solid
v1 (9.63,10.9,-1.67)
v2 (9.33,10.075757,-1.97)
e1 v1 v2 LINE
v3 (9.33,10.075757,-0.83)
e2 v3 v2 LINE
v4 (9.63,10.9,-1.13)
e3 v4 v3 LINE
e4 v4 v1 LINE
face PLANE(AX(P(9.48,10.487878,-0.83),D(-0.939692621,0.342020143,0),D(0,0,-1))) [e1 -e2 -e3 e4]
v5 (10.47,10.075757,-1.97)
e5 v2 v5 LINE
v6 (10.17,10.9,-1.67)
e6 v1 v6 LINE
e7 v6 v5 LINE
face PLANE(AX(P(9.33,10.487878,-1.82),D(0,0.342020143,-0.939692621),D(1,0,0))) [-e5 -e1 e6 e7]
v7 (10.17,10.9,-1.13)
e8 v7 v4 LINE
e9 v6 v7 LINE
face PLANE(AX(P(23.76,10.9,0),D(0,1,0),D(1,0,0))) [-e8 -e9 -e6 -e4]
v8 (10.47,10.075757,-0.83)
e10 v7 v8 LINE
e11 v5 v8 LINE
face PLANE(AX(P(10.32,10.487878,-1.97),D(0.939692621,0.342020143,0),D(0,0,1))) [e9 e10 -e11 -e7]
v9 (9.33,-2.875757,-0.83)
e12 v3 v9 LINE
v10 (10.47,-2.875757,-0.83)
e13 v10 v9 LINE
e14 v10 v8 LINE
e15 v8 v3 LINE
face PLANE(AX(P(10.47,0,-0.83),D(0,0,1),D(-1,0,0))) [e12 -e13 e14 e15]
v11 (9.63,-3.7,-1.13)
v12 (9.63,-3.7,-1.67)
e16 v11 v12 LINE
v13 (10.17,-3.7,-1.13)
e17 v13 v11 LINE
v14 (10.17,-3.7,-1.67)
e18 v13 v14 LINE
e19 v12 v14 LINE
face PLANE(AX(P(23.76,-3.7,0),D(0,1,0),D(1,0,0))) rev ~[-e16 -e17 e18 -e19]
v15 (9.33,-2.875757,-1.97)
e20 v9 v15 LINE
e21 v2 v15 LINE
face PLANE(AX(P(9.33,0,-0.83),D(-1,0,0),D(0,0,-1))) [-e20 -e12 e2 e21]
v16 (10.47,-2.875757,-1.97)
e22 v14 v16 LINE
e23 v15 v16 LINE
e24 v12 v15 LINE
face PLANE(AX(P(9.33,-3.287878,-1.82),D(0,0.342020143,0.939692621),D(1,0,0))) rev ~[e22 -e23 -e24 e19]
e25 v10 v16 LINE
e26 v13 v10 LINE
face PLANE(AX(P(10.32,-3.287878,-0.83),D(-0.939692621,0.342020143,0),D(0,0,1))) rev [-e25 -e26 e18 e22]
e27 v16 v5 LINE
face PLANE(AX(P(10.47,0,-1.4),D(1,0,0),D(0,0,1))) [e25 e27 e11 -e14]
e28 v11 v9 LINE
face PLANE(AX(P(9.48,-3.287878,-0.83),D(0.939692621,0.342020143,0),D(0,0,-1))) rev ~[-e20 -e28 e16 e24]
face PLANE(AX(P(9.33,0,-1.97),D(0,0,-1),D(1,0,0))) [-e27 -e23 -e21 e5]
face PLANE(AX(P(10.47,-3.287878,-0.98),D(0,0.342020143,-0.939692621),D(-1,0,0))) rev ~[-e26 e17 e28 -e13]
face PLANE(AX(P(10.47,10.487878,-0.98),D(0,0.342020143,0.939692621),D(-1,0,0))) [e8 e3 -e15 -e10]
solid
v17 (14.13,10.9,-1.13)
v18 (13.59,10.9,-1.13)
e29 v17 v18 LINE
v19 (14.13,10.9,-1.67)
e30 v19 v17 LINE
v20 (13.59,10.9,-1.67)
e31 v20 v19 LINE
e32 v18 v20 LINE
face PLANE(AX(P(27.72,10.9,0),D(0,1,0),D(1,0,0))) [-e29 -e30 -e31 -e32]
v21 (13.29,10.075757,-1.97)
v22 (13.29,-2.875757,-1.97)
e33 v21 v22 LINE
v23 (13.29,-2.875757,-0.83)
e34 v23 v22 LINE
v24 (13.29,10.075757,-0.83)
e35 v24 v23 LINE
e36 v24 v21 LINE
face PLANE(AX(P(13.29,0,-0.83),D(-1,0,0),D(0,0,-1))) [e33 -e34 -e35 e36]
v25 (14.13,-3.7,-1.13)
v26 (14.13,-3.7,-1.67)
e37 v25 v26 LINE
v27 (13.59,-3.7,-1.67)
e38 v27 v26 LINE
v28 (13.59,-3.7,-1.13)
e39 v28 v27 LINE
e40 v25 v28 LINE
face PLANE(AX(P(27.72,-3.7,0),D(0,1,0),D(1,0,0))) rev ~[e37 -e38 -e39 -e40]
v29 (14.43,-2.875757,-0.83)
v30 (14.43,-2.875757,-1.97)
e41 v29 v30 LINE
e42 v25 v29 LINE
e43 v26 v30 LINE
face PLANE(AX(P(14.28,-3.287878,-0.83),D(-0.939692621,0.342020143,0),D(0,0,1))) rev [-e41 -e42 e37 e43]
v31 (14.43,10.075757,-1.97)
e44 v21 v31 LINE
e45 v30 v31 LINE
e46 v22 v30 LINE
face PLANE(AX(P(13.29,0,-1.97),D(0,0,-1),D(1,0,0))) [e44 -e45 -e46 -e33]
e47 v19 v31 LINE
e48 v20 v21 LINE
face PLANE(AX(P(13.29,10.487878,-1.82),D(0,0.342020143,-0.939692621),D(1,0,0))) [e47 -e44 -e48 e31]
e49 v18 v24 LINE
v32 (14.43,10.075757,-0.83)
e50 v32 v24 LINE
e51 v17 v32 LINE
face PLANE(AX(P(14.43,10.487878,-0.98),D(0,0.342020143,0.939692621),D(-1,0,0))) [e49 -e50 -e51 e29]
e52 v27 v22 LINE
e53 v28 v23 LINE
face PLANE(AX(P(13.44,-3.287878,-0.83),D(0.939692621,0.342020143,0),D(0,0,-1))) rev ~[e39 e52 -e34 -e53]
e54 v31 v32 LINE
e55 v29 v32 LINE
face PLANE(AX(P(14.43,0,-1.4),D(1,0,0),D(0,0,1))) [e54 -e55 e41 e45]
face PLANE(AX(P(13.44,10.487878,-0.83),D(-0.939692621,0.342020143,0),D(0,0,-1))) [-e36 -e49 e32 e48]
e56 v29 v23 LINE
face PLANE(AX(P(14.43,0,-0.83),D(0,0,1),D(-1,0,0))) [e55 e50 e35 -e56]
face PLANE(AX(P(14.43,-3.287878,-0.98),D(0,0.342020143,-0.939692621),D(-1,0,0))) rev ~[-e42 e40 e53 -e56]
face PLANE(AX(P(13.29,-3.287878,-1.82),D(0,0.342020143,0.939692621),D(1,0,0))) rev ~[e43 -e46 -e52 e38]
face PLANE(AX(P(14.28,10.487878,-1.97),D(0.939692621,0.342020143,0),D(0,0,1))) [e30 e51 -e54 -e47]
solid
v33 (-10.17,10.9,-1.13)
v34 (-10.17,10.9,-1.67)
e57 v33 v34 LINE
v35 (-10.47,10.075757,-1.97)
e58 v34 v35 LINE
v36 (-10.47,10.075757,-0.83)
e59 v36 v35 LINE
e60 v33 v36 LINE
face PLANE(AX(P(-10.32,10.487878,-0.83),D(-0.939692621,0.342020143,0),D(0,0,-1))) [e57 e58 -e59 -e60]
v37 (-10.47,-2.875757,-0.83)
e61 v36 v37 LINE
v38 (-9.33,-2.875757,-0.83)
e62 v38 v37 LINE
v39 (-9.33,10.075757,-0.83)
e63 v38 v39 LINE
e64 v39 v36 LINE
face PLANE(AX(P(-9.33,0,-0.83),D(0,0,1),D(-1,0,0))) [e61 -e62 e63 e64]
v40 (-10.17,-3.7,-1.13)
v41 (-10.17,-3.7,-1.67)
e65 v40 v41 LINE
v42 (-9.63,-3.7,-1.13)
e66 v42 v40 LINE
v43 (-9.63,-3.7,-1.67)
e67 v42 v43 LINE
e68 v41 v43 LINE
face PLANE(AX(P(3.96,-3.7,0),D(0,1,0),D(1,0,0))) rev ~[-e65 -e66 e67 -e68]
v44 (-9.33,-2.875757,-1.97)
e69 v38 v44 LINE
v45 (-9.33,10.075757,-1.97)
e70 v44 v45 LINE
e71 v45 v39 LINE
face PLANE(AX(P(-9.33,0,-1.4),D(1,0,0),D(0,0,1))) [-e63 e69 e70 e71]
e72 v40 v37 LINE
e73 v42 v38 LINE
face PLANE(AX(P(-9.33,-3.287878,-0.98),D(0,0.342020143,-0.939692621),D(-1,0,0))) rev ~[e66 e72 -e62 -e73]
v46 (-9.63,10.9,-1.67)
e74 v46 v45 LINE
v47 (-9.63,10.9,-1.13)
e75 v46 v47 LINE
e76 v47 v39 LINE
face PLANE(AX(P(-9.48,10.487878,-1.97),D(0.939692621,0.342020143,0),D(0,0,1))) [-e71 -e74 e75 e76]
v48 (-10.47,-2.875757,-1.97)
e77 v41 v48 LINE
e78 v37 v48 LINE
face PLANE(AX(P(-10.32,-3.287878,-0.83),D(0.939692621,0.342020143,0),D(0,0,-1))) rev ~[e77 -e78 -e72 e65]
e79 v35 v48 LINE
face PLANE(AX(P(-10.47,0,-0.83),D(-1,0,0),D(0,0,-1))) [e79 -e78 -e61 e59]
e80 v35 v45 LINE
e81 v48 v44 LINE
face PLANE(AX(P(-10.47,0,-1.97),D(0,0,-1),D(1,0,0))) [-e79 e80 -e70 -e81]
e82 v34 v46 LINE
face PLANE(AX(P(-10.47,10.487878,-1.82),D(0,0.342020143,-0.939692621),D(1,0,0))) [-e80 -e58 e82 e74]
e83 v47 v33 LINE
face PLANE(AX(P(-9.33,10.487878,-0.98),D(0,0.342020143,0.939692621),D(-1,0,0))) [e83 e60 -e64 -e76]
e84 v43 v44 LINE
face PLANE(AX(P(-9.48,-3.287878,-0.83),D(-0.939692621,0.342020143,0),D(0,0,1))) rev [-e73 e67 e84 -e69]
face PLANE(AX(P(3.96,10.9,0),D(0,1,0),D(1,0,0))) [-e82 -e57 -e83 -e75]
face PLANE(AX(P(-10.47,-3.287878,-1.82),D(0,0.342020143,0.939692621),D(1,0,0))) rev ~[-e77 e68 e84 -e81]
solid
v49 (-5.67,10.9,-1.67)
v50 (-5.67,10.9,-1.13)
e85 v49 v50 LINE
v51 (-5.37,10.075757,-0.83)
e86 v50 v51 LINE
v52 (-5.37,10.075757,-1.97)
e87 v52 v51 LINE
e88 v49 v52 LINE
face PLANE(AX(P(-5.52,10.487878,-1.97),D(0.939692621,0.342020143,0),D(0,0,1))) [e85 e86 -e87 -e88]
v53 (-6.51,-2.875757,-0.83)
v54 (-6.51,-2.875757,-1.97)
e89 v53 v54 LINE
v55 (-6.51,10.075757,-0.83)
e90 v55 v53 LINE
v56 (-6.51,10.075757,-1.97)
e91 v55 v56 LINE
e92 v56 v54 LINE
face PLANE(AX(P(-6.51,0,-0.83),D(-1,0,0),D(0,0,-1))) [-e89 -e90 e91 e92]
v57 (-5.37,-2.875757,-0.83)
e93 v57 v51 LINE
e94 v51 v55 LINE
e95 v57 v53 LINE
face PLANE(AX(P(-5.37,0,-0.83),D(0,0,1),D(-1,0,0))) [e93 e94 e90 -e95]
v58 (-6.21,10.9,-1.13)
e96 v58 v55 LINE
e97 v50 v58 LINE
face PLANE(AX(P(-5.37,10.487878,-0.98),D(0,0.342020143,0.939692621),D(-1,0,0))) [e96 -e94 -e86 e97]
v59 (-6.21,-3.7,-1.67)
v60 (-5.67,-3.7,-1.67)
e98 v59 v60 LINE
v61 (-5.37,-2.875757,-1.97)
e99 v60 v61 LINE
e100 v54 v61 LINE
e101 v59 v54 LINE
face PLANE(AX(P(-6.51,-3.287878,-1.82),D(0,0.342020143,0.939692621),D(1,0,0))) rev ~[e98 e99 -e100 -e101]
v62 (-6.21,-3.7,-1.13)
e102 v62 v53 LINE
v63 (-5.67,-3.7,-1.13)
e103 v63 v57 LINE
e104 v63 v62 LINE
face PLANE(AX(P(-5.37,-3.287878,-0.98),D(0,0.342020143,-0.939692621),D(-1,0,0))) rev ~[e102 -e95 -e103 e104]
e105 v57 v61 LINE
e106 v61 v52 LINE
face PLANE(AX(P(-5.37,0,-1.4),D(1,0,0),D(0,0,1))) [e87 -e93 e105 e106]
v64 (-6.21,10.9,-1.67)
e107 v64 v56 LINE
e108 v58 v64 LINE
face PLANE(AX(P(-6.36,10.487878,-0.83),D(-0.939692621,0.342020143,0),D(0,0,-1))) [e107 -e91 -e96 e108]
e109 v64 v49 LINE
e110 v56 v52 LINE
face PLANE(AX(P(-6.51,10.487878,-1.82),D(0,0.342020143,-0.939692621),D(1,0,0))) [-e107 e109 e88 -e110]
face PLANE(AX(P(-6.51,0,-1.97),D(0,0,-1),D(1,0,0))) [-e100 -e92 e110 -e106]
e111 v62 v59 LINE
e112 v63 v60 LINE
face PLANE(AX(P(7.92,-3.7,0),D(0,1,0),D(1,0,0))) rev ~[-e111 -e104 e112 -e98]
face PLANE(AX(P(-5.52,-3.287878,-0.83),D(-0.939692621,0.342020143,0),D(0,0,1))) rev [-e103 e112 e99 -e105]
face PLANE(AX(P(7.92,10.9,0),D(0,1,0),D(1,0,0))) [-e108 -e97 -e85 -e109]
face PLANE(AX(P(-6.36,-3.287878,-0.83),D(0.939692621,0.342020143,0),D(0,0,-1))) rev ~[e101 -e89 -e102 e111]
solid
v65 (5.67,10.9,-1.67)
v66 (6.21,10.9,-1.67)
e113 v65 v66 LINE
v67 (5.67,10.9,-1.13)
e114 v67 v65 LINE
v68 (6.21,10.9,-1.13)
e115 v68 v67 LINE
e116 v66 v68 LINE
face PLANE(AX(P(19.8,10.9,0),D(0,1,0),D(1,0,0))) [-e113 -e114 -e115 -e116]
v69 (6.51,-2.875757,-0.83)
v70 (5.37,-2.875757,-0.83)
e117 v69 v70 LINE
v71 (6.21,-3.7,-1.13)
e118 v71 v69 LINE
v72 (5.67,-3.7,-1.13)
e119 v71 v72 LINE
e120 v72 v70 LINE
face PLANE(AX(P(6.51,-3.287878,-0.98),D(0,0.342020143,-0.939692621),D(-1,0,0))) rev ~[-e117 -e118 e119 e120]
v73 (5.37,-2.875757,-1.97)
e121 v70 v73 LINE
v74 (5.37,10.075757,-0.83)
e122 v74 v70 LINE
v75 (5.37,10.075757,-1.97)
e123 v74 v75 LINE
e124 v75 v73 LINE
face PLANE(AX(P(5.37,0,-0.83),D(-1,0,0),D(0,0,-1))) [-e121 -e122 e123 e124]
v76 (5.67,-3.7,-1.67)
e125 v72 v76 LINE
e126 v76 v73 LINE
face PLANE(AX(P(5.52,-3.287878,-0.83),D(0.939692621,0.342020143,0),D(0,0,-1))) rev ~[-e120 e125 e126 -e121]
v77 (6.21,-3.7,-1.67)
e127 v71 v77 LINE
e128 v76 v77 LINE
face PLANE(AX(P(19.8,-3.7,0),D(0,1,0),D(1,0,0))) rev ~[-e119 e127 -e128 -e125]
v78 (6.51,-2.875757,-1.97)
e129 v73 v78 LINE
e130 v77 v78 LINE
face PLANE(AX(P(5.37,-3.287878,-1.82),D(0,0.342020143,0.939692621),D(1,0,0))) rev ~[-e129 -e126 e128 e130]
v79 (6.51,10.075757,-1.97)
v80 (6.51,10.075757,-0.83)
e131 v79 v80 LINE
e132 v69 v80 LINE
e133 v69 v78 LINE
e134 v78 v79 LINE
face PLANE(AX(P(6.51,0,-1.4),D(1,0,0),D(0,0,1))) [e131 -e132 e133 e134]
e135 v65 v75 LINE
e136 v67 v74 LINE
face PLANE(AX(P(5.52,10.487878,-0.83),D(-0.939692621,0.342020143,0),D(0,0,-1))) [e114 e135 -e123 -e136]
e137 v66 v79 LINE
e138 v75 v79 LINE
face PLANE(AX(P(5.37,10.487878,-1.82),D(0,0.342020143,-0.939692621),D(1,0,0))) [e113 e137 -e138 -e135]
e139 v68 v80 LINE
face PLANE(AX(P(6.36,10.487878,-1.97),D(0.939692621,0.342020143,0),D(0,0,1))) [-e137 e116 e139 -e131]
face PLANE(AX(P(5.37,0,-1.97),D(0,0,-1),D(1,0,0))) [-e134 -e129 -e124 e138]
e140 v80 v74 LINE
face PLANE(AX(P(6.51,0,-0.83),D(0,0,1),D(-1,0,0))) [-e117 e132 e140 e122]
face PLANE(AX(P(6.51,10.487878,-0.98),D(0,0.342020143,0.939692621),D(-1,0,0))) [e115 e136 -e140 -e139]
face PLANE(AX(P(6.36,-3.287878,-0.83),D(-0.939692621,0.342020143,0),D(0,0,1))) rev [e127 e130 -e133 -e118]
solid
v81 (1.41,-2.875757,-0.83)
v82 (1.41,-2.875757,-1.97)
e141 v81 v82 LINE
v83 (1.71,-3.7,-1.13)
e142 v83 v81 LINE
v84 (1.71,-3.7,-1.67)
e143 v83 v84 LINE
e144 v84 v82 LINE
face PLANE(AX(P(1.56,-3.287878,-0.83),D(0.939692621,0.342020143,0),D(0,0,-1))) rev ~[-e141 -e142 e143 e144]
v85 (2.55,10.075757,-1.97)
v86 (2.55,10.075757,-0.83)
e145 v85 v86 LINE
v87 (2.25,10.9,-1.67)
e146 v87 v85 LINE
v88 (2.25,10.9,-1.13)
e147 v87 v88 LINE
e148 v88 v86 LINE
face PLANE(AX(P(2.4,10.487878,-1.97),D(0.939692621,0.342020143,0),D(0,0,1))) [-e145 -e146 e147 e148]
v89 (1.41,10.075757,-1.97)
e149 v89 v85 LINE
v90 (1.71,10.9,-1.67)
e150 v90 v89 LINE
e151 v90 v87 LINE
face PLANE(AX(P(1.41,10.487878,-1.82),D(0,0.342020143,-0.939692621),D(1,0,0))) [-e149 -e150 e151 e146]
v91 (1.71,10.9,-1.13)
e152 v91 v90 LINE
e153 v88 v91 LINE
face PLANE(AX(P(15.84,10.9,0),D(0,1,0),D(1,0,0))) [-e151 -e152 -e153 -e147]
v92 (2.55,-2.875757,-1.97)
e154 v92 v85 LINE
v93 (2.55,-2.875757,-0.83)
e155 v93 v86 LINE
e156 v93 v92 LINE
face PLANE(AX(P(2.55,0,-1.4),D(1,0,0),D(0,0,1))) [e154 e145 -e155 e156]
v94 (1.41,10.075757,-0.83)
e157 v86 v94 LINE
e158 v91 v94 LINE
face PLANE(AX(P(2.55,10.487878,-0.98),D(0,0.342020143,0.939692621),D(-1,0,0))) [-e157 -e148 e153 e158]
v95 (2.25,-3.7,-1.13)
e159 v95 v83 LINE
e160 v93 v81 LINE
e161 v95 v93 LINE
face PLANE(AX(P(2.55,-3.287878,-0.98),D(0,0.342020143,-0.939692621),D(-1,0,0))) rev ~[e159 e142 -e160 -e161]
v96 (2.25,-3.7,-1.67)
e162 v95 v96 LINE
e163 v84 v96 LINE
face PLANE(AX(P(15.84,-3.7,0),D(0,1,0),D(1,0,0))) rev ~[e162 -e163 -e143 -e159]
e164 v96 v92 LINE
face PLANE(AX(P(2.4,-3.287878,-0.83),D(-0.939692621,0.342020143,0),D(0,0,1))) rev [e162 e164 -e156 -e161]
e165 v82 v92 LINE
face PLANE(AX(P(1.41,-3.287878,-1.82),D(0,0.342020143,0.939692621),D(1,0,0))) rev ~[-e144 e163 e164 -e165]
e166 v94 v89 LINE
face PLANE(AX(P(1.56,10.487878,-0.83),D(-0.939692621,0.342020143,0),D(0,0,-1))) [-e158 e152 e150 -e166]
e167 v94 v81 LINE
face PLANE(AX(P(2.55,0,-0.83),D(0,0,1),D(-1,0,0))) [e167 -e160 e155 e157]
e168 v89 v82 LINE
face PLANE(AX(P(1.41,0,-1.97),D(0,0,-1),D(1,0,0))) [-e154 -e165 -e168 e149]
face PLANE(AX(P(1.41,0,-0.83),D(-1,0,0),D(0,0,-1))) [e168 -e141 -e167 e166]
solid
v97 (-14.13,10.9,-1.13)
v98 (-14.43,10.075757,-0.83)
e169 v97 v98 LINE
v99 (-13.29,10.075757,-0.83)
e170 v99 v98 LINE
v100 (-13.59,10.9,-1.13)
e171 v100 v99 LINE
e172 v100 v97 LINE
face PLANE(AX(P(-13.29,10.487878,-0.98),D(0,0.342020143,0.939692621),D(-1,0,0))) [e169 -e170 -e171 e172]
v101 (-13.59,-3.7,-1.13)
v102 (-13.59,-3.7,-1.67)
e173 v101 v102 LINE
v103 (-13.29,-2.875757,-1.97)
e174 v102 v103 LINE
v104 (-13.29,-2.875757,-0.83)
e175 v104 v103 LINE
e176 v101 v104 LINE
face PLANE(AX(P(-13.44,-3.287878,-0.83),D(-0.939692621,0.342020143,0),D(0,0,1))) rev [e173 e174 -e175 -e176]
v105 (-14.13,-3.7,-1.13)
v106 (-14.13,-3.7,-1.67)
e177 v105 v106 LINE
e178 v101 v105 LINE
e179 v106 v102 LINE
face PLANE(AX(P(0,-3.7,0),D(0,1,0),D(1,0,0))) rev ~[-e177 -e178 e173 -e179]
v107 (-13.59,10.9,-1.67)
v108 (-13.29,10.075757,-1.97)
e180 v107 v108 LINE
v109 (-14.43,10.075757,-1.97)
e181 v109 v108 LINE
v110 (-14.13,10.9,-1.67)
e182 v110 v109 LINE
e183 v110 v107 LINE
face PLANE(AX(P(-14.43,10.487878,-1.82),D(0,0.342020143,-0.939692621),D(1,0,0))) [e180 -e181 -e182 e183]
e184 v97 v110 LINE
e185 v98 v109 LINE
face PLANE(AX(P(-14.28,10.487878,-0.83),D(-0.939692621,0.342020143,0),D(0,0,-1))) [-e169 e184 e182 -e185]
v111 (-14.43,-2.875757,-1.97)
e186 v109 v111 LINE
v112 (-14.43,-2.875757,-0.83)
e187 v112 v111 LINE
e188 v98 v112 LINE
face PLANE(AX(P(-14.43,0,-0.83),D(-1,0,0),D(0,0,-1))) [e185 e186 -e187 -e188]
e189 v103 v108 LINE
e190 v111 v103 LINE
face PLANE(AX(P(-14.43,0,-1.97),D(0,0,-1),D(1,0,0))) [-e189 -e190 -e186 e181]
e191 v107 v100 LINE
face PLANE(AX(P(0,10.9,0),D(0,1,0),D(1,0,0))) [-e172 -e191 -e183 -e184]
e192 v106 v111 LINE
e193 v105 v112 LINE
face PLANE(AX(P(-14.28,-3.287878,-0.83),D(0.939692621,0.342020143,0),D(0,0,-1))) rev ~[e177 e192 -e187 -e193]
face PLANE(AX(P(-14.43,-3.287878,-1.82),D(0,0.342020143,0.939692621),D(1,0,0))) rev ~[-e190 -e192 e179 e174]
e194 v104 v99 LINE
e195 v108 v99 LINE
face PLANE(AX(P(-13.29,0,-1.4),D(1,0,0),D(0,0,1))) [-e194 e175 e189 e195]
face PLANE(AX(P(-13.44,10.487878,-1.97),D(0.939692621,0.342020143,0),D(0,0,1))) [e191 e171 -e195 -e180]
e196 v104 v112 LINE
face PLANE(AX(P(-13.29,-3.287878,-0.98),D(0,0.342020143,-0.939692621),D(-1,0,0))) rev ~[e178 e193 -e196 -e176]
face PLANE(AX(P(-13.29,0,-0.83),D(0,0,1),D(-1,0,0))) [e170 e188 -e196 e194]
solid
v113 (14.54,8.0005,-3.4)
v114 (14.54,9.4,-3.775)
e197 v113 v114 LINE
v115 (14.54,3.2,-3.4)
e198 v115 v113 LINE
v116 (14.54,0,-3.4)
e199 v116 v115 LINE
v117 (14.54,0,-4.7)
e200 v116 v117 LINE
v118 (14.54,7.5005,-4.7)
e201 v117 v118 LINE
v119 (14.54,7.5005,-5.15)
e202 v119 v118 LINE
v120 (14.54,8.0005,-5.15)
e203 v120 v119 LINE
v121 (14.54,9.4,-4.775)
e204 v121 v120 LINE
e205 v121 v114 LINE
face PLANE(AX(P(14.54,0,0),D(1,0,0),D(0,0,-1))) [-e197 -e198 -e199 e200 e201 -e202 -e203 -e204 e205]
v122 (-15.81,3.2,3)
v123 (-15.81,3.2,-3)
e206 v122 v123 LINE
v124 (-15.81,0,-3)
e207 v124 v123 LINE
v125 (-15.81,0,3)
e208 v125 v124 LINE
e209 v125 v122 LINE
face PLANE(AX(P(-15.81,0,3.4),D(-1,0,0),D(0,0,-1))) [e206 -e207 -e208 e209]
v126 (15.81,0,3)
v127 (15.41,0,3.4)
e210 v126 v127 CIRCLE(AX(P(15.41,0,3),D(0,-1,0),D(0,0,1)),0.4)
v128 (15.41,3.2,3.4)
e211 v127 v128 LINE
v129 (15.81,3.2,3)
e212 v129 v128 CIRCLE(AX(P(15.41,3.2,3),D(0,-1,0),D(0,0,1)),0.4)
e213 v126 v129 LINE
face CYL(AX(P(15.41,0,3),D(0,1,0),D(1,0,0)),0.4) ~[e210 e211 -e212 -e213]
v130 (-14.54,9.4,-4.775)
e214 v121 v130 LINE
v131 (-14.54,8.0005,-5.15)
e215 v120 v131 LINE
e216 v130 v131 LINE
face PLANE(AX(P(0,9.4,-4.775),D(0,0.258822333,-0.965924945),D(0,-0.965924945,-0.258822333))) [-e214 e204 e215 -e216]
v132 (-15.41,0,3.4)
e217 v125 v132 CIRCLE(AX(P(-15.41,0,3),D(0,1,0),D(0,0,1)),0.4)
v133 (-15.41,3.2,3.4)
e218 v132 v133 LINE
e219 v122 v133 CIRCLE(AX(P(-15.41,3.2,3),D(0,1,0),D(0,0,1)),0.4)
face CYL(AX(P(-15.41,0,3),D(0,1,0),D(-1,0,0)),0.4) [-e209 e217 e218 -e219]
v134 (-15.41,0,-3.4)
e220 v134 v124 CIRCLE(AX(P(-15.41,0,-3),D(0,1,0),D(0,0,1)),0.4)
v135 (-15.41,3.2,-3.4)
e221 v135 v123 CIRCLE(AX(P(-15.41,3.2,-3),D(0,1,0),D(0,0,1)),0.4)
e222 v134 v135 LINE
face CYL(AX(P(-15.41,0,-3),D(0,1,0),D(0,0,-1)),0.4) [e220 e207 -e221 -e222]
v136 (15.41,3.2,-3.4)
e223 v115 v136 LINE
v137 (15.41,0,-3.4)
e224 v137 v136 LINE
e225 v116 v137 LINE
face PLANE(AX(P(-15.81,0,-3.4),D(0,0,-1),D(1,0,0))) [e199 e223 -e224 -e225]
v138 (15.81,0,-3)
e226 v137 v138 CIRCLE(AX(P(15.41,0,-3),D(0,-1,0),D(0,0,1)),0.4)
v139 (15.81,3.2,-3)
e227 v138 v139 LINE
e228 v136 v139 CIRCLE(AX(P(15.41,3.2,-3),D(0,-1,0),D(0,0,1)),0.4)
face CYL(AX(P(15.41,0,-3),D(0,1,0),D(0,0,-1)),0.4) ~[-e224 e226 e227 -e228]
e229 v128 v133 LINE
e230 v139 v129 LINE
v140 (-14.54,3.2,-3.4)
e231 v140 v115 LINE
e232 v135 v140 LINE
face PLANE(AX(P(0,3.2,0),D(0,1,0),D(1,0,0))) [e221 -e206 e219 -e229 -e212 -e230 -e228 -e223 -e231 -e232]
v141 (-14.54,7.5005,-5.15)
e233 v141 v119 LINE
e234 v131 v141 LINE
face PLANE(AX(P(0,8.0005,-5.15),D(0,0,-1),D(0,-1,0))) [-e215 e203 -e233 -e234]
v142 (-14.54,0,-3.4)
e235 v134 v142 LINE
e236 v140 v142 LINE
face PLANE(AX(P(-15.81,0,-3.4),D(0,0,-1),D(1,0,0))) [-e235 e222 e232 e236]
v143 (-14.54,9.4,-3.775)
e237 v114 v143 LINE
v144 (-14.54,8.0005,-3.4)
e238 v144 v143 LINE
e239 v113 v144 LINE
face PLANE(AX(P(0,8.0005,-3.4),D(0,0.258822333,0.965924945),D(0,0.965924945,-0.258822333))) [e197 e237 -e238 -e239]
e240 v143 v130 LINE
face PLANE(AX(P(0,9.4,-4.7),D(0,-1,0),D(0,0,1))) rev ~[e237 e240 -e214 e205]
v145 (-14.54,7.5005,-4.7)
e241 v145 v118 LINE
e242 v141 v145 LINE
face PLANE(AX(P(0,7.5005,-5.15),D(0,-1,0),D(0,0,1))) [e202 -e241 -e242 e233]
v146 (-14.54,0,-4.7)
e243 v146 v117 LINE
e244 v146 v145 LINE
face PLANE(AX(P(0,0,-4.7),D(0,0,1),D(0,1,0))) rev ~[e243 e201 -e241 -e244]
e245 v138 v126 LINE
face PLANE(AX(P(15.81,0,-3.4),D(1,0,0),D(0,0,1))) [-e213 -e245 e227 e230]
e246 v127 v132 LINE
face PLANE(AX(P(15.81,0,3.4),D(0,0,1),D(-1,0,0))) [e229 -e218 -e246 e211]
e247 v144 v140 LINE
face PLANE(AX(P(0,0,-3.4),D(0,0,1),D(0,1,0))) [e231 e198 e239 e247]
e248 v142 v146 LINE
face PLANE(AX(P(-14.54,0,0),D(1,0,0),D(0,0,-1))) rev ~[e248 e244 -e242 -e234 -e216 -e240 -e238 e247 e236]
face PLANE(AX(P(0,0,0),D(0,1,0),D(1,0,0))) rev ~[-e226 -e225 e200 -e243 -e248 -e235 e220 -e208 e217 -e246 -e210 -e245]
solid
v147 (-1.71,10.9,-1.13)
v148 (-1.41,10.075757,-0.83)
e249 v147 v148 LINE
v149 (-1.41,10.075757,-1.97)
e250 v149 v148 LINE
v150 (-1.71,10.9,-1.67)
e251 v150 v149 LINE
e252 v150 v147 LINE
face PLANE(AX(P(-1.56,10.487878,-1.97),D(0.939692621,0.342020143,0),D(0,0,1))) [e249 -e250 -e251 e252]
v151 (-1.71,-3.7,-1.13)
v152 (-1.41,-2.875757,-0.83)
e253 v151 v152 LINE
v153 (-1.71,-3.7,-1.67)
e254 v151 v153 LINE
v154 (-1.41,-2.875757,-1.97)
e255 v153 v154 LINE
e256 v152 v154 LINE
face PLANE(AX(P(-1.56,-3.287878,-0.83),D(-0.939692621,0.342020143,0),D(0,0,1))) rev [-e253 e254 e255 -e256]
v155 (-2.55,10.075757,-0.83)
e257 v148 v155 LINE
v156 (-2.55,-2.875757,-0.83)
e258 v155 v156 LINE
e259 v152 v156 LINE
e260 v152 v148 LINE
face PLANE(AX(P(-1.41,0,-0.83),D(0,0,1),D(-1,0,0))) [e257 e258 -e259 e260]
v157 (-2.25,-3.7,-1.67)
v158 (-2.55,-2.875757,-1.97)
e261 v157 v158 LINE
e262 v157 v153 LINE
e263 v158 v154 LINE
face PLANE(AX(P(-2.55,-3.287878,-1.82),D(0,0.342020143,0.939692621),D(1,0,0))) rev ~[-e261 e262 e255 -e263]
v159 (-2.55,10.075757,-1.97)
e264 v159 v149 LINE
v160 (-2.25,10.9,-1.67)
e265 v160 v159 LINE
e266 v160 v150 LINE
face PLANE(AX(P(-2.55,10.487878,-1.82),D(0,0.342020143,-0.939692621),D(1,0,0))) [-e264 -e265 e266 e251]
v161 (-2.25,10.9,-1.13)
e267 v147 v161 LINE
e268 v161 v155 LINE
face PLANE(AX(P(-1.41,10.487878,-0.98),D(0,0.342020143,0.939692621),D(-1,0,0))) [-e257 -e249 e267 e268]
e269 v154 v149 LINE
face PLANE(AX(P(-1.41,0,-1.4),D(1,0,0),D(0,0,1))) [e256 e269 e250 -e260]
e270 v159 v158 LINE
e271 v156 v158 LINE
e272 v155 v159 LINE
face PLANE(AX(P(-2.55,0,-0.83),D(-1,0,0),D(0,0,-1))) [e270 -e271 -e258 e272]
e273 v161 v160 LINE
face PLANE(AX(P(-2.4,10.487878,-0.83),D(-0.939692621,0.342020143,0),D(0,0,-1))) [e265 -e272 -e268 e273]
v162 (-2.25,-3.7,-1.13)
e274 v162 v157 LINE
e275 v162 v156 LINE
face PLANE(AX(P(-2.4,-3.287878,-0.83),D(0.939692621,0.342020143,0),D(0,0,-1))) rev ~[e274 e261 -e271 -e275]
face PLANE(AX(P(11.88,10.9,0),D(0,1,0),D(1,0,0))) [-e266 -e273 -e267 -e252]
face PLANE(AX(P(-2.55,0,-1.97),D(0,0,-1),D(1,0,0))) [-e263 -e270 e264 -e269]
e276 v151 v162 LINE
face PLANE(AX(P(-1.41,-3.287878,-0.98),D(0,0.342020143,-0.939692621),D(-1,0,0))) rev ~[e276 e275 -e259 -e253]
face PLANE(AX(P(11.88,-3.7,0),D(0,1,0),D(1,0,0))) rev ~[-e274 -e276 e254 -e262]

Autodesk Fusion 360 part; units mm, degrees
sketch "Skizze1" plane through (0, 0, 0) normal (0, 1, 0) x (1, 0, 0)
  line L0 (-15.81, 3.4) -> (15.81, 3.4)
  line L1 (15.81, 3.4) -> (15.81, -3.4)
  line L2 (15.81, -3.4) -> (-15.81, -3.4)
  line L3 (-15.81, -3.4) -> (-15.81, 3.4)
  line L4 (0, 3.4) -> (0, -3.4) construction
  dimension "d9" = 31.62
  dimension "d10" = 6.8
extrude "Extrusion1" add sketch "Skizze1" along normal blind 3.2 makes body 1
sketch "Skizze3" plane through (0, 0, 0) normal (1, 0, 0) x (0, 0, -1)
  line L0 (3.4, 0) -> (3.4, 3.2)
  line L1 (3.4, 0) -> (4.7, 0)
  line L2 (4.7, 0) -> (4.7, 9.4)
  line L3 (4.7, 9.4) -> (3.4, 9.4) construction
  line L4 (3.4, 9.4) -> (3.4, 0)
  line L5 (4.7, 9.4) -> (5.15, 9.4)
  line L6 (5.15, 9.4) -> (5.15, 0)
  line L7 (5.15, 0) -> (4.7, 0)
  line L8 (4.7, 0) -> (4.7, 9.4) construction
  line L9 (3.4, 8.0005) -> (3.775, 9.4)
  line L10 (4.775, 9.4) -> (5.15, 8.0005)
  line L11 (5.15, 7.5005) -> (4.7, 7.5005)
  line L12 (4.775, 9.4) -> (3.775, 9.4)
  line L13 (3.775, 9.4) -> (4.775, 9.4) construction
  line L14 (4.775, 9.4) -> (5.15, 9.4) construction
  line L15 (3.775, 9.4) -> (3.4, 9.4) construction
  line L16 (5.15, 9.4) -> (4.775, 9.4) construction
  line L17 (5.15, 8.0005) -> (5.15, 7.5005) construction
  line L18 (5.15, 7.5005) -> (5.15, 8.0005) construction
  line L19 (5.15, 9.4) -> (3.4, 9.4)
  line L20 (5.15, 0) -> (3.4, 0)
  dimension "d31" = 9.4
  dimension "d33" = 1.3
  dimension "d35" = 90
  dimension "d36" = 75
  dimension "d37" = 75
  dimension "d39" = 1
  dimension "d42" = 0.5
  dimension "d48" = 1.75
sketch "Skizze2" plane through (0, 0, 0) normal (0, 1, 0) x (1, 0, 0)
  line L0 (-13.29, 0.83) -> (-14.43, 0.83)
  line L1 (-14.43, 0.83) -> (-14.43, 1.97)
  line L2 (-14.43, 1.97) -> (-13.29, 1.97)
  line L3 (-13.29, 1.97) -> (-13.29, 0.83)
  line L4 (-15.81, 3.4) -> (15.81, 3.4)
  line L5 (15.81, 3.4) -> (15.81, -3.4)
  line L6 (15.81, -3.4) -> (-15.81, -3.4)
  line L7 (-15.81, -3.4) -> (-15.81, 3.4)
  line L8 (0, 3.4) -> (0, 1.4) construction
  line L9 (-13.29, 1.4) -> (-14.43, 1.4) construction
  line L10 (0, 1.4) -> (-13.86, 1.4)
  point P0 (-13.86, 1.4)
  dimension "d16" = 1.14
  dimension "d17" = 1.14
  dimension "d24" = 2
  dimension "d26" = 13.86
extrude "Extrusion3" add sketch "Skizze3" along normal mid plane 29.08 contours L0 L1 L2 L4 L9 L12 L19 L20 | L2 L5 L6 L10 L11 L12 L19 bodies 1
extrude "Extrusion2" add sketch "Skizze2" along normal blind 10.9 and the other way blind 3.7 separate body contours L0 L1 L2 L3 makes body 2
chamfer "Fase2" distance 0.3 angle 70 8 edges at (-13.86, 10.9, -0.83) (-13.29, 10.9, -1.4) (-13.86, 10.9, -1.97) (-14.43, 10.9, -1.4) (-13.29, -3.7, -1.4) (-13.86, -3.7, -0.83) (-14.43, -3.7, -1.4) (-13.86, -3.7, -1.97) measured on face at (-13.67, 10.9, -1.59) measured on face at (-13.67, 10.9, -1.59) measured on face at (-13.67, 10.9, -1.59) measured on face at (-13.67, 10.9, -1.59) measured on face at (-13.67, -3.7, -1.59) measured on face at (-13.67, -3.7, -1.59) measured on face at (-13.67, -3.7, -1.59) measured on face at (-13.67, -3.7, -1.59) on bodies 2
pattern_linear "R-Anordnung1" count 8 spacing 3.96 along (1, 0, 0) of bodies 2 makes body 3 at (-9.71, 1.4414, -0.83) makes body 4 at (-5.37, 1.4414, -1.59) makes body 5 at (-1.41, 1.4414, -1.59) makes body 6 at (2.55, 1.4414, -1.59) makes body 7 at (6.51, 1.4414, -1.59) makes body 8 at (10.47, 1.4414, -1.59) makes body 9 at (14.43, 1.4414, -1.59)
fillet "Abrundung1" radius 0.4 4 edges at (15.81, 1.6, -3.4) (15.81, 1.6, 3.4) (-15.81, 1.6, 3.4) (-15.81, 1.6, -3.4) on bodies 1
equation "n = 8" comment "Number of pins"
equation "P = 3.96 mm" comment "Pin pitch"
equation "B1 = A1 + ( 1.95 mm * 2 )" comment "Width of bottom plate"
equation "A1 = ( n - 1 ) * P" comment "Total width of all pins"
equation "C1 = 6.8 mm" comment "Height of bottom plate"
equation "H1 = 9.4 mm" comment "Height of latching plate"
equation "O1 = 2 mm" comment "Vertical offset pin-center to bottom plate border"
equation "d9 = B1"
equation "d10 = C1"
equation "D1 = 3.2 mm" comment "Total depth of bottom plate"
equation "Pw = 1.14 mm" comment "Width & height of square pin"
equation "d13 = D1"
equation "d16 = Pw"
equation "d17 = Pw"
equation "LPinTop = 7.7 mm + D1" comment "Length of the pin measured from the bottom plane to the top of the pin (away from PCB)"
equation "LPinBottom = 14.6 mm - LPinTop" comment "Length of the pin in bottom direction, measured from the bottom plane"
equation "d20 = LPinTop"
equation "d22 = LPinBottom"
equation "d24 = O1"
equation "Pin1XOffset = ( ( n - 1 ) * P ) / 2" comment "First pin X offset measured from the X axis"
equation "d26 = Pin1XOffset"
equation "d27 = n"
equation "d29 = P"
equation "d31 = H1"
equation "D2 = 1.3 mm" comment "(Measured) depth of latching plate (narrowest section)"
equation "d33 = D2"
equation "d35 = alpha"
equation "d36 = 90 deg - beta"
equation "d37 = 90 deg - beta"
equation "Wx1 = 1.0 mm" comment "(Measured) Width of the topmost part of the latching plate"
equation "Hx1 = 0.5 mm" comment "(Measured) Height of the latching surface facing away from the pins"
equation "alpha = 90 deg" comment "Angle of the latching surface. Shown by the datasheet as ~45°but real parts have 90°"
equation "d42 = Hx1"
equation "beta = 15 deg" comment "(Estimated) Latching plate tapering angle"
equation "WL1 = 1.27 mm" comment "(Measured) With of the section of the bottom plate where there is no latching plate per side)"
equation "d45 = B1 - ( WL1 * 2 )"
equation "Dlatch = 1.75 mm" comment "(Measured) Total depth of latching plate"
equation "d48 = Dlatch"
equation "d54 = delta"
equation "delta = 70 deg" comment "(Estimated) Taper angle of the pin top & bottoms"
